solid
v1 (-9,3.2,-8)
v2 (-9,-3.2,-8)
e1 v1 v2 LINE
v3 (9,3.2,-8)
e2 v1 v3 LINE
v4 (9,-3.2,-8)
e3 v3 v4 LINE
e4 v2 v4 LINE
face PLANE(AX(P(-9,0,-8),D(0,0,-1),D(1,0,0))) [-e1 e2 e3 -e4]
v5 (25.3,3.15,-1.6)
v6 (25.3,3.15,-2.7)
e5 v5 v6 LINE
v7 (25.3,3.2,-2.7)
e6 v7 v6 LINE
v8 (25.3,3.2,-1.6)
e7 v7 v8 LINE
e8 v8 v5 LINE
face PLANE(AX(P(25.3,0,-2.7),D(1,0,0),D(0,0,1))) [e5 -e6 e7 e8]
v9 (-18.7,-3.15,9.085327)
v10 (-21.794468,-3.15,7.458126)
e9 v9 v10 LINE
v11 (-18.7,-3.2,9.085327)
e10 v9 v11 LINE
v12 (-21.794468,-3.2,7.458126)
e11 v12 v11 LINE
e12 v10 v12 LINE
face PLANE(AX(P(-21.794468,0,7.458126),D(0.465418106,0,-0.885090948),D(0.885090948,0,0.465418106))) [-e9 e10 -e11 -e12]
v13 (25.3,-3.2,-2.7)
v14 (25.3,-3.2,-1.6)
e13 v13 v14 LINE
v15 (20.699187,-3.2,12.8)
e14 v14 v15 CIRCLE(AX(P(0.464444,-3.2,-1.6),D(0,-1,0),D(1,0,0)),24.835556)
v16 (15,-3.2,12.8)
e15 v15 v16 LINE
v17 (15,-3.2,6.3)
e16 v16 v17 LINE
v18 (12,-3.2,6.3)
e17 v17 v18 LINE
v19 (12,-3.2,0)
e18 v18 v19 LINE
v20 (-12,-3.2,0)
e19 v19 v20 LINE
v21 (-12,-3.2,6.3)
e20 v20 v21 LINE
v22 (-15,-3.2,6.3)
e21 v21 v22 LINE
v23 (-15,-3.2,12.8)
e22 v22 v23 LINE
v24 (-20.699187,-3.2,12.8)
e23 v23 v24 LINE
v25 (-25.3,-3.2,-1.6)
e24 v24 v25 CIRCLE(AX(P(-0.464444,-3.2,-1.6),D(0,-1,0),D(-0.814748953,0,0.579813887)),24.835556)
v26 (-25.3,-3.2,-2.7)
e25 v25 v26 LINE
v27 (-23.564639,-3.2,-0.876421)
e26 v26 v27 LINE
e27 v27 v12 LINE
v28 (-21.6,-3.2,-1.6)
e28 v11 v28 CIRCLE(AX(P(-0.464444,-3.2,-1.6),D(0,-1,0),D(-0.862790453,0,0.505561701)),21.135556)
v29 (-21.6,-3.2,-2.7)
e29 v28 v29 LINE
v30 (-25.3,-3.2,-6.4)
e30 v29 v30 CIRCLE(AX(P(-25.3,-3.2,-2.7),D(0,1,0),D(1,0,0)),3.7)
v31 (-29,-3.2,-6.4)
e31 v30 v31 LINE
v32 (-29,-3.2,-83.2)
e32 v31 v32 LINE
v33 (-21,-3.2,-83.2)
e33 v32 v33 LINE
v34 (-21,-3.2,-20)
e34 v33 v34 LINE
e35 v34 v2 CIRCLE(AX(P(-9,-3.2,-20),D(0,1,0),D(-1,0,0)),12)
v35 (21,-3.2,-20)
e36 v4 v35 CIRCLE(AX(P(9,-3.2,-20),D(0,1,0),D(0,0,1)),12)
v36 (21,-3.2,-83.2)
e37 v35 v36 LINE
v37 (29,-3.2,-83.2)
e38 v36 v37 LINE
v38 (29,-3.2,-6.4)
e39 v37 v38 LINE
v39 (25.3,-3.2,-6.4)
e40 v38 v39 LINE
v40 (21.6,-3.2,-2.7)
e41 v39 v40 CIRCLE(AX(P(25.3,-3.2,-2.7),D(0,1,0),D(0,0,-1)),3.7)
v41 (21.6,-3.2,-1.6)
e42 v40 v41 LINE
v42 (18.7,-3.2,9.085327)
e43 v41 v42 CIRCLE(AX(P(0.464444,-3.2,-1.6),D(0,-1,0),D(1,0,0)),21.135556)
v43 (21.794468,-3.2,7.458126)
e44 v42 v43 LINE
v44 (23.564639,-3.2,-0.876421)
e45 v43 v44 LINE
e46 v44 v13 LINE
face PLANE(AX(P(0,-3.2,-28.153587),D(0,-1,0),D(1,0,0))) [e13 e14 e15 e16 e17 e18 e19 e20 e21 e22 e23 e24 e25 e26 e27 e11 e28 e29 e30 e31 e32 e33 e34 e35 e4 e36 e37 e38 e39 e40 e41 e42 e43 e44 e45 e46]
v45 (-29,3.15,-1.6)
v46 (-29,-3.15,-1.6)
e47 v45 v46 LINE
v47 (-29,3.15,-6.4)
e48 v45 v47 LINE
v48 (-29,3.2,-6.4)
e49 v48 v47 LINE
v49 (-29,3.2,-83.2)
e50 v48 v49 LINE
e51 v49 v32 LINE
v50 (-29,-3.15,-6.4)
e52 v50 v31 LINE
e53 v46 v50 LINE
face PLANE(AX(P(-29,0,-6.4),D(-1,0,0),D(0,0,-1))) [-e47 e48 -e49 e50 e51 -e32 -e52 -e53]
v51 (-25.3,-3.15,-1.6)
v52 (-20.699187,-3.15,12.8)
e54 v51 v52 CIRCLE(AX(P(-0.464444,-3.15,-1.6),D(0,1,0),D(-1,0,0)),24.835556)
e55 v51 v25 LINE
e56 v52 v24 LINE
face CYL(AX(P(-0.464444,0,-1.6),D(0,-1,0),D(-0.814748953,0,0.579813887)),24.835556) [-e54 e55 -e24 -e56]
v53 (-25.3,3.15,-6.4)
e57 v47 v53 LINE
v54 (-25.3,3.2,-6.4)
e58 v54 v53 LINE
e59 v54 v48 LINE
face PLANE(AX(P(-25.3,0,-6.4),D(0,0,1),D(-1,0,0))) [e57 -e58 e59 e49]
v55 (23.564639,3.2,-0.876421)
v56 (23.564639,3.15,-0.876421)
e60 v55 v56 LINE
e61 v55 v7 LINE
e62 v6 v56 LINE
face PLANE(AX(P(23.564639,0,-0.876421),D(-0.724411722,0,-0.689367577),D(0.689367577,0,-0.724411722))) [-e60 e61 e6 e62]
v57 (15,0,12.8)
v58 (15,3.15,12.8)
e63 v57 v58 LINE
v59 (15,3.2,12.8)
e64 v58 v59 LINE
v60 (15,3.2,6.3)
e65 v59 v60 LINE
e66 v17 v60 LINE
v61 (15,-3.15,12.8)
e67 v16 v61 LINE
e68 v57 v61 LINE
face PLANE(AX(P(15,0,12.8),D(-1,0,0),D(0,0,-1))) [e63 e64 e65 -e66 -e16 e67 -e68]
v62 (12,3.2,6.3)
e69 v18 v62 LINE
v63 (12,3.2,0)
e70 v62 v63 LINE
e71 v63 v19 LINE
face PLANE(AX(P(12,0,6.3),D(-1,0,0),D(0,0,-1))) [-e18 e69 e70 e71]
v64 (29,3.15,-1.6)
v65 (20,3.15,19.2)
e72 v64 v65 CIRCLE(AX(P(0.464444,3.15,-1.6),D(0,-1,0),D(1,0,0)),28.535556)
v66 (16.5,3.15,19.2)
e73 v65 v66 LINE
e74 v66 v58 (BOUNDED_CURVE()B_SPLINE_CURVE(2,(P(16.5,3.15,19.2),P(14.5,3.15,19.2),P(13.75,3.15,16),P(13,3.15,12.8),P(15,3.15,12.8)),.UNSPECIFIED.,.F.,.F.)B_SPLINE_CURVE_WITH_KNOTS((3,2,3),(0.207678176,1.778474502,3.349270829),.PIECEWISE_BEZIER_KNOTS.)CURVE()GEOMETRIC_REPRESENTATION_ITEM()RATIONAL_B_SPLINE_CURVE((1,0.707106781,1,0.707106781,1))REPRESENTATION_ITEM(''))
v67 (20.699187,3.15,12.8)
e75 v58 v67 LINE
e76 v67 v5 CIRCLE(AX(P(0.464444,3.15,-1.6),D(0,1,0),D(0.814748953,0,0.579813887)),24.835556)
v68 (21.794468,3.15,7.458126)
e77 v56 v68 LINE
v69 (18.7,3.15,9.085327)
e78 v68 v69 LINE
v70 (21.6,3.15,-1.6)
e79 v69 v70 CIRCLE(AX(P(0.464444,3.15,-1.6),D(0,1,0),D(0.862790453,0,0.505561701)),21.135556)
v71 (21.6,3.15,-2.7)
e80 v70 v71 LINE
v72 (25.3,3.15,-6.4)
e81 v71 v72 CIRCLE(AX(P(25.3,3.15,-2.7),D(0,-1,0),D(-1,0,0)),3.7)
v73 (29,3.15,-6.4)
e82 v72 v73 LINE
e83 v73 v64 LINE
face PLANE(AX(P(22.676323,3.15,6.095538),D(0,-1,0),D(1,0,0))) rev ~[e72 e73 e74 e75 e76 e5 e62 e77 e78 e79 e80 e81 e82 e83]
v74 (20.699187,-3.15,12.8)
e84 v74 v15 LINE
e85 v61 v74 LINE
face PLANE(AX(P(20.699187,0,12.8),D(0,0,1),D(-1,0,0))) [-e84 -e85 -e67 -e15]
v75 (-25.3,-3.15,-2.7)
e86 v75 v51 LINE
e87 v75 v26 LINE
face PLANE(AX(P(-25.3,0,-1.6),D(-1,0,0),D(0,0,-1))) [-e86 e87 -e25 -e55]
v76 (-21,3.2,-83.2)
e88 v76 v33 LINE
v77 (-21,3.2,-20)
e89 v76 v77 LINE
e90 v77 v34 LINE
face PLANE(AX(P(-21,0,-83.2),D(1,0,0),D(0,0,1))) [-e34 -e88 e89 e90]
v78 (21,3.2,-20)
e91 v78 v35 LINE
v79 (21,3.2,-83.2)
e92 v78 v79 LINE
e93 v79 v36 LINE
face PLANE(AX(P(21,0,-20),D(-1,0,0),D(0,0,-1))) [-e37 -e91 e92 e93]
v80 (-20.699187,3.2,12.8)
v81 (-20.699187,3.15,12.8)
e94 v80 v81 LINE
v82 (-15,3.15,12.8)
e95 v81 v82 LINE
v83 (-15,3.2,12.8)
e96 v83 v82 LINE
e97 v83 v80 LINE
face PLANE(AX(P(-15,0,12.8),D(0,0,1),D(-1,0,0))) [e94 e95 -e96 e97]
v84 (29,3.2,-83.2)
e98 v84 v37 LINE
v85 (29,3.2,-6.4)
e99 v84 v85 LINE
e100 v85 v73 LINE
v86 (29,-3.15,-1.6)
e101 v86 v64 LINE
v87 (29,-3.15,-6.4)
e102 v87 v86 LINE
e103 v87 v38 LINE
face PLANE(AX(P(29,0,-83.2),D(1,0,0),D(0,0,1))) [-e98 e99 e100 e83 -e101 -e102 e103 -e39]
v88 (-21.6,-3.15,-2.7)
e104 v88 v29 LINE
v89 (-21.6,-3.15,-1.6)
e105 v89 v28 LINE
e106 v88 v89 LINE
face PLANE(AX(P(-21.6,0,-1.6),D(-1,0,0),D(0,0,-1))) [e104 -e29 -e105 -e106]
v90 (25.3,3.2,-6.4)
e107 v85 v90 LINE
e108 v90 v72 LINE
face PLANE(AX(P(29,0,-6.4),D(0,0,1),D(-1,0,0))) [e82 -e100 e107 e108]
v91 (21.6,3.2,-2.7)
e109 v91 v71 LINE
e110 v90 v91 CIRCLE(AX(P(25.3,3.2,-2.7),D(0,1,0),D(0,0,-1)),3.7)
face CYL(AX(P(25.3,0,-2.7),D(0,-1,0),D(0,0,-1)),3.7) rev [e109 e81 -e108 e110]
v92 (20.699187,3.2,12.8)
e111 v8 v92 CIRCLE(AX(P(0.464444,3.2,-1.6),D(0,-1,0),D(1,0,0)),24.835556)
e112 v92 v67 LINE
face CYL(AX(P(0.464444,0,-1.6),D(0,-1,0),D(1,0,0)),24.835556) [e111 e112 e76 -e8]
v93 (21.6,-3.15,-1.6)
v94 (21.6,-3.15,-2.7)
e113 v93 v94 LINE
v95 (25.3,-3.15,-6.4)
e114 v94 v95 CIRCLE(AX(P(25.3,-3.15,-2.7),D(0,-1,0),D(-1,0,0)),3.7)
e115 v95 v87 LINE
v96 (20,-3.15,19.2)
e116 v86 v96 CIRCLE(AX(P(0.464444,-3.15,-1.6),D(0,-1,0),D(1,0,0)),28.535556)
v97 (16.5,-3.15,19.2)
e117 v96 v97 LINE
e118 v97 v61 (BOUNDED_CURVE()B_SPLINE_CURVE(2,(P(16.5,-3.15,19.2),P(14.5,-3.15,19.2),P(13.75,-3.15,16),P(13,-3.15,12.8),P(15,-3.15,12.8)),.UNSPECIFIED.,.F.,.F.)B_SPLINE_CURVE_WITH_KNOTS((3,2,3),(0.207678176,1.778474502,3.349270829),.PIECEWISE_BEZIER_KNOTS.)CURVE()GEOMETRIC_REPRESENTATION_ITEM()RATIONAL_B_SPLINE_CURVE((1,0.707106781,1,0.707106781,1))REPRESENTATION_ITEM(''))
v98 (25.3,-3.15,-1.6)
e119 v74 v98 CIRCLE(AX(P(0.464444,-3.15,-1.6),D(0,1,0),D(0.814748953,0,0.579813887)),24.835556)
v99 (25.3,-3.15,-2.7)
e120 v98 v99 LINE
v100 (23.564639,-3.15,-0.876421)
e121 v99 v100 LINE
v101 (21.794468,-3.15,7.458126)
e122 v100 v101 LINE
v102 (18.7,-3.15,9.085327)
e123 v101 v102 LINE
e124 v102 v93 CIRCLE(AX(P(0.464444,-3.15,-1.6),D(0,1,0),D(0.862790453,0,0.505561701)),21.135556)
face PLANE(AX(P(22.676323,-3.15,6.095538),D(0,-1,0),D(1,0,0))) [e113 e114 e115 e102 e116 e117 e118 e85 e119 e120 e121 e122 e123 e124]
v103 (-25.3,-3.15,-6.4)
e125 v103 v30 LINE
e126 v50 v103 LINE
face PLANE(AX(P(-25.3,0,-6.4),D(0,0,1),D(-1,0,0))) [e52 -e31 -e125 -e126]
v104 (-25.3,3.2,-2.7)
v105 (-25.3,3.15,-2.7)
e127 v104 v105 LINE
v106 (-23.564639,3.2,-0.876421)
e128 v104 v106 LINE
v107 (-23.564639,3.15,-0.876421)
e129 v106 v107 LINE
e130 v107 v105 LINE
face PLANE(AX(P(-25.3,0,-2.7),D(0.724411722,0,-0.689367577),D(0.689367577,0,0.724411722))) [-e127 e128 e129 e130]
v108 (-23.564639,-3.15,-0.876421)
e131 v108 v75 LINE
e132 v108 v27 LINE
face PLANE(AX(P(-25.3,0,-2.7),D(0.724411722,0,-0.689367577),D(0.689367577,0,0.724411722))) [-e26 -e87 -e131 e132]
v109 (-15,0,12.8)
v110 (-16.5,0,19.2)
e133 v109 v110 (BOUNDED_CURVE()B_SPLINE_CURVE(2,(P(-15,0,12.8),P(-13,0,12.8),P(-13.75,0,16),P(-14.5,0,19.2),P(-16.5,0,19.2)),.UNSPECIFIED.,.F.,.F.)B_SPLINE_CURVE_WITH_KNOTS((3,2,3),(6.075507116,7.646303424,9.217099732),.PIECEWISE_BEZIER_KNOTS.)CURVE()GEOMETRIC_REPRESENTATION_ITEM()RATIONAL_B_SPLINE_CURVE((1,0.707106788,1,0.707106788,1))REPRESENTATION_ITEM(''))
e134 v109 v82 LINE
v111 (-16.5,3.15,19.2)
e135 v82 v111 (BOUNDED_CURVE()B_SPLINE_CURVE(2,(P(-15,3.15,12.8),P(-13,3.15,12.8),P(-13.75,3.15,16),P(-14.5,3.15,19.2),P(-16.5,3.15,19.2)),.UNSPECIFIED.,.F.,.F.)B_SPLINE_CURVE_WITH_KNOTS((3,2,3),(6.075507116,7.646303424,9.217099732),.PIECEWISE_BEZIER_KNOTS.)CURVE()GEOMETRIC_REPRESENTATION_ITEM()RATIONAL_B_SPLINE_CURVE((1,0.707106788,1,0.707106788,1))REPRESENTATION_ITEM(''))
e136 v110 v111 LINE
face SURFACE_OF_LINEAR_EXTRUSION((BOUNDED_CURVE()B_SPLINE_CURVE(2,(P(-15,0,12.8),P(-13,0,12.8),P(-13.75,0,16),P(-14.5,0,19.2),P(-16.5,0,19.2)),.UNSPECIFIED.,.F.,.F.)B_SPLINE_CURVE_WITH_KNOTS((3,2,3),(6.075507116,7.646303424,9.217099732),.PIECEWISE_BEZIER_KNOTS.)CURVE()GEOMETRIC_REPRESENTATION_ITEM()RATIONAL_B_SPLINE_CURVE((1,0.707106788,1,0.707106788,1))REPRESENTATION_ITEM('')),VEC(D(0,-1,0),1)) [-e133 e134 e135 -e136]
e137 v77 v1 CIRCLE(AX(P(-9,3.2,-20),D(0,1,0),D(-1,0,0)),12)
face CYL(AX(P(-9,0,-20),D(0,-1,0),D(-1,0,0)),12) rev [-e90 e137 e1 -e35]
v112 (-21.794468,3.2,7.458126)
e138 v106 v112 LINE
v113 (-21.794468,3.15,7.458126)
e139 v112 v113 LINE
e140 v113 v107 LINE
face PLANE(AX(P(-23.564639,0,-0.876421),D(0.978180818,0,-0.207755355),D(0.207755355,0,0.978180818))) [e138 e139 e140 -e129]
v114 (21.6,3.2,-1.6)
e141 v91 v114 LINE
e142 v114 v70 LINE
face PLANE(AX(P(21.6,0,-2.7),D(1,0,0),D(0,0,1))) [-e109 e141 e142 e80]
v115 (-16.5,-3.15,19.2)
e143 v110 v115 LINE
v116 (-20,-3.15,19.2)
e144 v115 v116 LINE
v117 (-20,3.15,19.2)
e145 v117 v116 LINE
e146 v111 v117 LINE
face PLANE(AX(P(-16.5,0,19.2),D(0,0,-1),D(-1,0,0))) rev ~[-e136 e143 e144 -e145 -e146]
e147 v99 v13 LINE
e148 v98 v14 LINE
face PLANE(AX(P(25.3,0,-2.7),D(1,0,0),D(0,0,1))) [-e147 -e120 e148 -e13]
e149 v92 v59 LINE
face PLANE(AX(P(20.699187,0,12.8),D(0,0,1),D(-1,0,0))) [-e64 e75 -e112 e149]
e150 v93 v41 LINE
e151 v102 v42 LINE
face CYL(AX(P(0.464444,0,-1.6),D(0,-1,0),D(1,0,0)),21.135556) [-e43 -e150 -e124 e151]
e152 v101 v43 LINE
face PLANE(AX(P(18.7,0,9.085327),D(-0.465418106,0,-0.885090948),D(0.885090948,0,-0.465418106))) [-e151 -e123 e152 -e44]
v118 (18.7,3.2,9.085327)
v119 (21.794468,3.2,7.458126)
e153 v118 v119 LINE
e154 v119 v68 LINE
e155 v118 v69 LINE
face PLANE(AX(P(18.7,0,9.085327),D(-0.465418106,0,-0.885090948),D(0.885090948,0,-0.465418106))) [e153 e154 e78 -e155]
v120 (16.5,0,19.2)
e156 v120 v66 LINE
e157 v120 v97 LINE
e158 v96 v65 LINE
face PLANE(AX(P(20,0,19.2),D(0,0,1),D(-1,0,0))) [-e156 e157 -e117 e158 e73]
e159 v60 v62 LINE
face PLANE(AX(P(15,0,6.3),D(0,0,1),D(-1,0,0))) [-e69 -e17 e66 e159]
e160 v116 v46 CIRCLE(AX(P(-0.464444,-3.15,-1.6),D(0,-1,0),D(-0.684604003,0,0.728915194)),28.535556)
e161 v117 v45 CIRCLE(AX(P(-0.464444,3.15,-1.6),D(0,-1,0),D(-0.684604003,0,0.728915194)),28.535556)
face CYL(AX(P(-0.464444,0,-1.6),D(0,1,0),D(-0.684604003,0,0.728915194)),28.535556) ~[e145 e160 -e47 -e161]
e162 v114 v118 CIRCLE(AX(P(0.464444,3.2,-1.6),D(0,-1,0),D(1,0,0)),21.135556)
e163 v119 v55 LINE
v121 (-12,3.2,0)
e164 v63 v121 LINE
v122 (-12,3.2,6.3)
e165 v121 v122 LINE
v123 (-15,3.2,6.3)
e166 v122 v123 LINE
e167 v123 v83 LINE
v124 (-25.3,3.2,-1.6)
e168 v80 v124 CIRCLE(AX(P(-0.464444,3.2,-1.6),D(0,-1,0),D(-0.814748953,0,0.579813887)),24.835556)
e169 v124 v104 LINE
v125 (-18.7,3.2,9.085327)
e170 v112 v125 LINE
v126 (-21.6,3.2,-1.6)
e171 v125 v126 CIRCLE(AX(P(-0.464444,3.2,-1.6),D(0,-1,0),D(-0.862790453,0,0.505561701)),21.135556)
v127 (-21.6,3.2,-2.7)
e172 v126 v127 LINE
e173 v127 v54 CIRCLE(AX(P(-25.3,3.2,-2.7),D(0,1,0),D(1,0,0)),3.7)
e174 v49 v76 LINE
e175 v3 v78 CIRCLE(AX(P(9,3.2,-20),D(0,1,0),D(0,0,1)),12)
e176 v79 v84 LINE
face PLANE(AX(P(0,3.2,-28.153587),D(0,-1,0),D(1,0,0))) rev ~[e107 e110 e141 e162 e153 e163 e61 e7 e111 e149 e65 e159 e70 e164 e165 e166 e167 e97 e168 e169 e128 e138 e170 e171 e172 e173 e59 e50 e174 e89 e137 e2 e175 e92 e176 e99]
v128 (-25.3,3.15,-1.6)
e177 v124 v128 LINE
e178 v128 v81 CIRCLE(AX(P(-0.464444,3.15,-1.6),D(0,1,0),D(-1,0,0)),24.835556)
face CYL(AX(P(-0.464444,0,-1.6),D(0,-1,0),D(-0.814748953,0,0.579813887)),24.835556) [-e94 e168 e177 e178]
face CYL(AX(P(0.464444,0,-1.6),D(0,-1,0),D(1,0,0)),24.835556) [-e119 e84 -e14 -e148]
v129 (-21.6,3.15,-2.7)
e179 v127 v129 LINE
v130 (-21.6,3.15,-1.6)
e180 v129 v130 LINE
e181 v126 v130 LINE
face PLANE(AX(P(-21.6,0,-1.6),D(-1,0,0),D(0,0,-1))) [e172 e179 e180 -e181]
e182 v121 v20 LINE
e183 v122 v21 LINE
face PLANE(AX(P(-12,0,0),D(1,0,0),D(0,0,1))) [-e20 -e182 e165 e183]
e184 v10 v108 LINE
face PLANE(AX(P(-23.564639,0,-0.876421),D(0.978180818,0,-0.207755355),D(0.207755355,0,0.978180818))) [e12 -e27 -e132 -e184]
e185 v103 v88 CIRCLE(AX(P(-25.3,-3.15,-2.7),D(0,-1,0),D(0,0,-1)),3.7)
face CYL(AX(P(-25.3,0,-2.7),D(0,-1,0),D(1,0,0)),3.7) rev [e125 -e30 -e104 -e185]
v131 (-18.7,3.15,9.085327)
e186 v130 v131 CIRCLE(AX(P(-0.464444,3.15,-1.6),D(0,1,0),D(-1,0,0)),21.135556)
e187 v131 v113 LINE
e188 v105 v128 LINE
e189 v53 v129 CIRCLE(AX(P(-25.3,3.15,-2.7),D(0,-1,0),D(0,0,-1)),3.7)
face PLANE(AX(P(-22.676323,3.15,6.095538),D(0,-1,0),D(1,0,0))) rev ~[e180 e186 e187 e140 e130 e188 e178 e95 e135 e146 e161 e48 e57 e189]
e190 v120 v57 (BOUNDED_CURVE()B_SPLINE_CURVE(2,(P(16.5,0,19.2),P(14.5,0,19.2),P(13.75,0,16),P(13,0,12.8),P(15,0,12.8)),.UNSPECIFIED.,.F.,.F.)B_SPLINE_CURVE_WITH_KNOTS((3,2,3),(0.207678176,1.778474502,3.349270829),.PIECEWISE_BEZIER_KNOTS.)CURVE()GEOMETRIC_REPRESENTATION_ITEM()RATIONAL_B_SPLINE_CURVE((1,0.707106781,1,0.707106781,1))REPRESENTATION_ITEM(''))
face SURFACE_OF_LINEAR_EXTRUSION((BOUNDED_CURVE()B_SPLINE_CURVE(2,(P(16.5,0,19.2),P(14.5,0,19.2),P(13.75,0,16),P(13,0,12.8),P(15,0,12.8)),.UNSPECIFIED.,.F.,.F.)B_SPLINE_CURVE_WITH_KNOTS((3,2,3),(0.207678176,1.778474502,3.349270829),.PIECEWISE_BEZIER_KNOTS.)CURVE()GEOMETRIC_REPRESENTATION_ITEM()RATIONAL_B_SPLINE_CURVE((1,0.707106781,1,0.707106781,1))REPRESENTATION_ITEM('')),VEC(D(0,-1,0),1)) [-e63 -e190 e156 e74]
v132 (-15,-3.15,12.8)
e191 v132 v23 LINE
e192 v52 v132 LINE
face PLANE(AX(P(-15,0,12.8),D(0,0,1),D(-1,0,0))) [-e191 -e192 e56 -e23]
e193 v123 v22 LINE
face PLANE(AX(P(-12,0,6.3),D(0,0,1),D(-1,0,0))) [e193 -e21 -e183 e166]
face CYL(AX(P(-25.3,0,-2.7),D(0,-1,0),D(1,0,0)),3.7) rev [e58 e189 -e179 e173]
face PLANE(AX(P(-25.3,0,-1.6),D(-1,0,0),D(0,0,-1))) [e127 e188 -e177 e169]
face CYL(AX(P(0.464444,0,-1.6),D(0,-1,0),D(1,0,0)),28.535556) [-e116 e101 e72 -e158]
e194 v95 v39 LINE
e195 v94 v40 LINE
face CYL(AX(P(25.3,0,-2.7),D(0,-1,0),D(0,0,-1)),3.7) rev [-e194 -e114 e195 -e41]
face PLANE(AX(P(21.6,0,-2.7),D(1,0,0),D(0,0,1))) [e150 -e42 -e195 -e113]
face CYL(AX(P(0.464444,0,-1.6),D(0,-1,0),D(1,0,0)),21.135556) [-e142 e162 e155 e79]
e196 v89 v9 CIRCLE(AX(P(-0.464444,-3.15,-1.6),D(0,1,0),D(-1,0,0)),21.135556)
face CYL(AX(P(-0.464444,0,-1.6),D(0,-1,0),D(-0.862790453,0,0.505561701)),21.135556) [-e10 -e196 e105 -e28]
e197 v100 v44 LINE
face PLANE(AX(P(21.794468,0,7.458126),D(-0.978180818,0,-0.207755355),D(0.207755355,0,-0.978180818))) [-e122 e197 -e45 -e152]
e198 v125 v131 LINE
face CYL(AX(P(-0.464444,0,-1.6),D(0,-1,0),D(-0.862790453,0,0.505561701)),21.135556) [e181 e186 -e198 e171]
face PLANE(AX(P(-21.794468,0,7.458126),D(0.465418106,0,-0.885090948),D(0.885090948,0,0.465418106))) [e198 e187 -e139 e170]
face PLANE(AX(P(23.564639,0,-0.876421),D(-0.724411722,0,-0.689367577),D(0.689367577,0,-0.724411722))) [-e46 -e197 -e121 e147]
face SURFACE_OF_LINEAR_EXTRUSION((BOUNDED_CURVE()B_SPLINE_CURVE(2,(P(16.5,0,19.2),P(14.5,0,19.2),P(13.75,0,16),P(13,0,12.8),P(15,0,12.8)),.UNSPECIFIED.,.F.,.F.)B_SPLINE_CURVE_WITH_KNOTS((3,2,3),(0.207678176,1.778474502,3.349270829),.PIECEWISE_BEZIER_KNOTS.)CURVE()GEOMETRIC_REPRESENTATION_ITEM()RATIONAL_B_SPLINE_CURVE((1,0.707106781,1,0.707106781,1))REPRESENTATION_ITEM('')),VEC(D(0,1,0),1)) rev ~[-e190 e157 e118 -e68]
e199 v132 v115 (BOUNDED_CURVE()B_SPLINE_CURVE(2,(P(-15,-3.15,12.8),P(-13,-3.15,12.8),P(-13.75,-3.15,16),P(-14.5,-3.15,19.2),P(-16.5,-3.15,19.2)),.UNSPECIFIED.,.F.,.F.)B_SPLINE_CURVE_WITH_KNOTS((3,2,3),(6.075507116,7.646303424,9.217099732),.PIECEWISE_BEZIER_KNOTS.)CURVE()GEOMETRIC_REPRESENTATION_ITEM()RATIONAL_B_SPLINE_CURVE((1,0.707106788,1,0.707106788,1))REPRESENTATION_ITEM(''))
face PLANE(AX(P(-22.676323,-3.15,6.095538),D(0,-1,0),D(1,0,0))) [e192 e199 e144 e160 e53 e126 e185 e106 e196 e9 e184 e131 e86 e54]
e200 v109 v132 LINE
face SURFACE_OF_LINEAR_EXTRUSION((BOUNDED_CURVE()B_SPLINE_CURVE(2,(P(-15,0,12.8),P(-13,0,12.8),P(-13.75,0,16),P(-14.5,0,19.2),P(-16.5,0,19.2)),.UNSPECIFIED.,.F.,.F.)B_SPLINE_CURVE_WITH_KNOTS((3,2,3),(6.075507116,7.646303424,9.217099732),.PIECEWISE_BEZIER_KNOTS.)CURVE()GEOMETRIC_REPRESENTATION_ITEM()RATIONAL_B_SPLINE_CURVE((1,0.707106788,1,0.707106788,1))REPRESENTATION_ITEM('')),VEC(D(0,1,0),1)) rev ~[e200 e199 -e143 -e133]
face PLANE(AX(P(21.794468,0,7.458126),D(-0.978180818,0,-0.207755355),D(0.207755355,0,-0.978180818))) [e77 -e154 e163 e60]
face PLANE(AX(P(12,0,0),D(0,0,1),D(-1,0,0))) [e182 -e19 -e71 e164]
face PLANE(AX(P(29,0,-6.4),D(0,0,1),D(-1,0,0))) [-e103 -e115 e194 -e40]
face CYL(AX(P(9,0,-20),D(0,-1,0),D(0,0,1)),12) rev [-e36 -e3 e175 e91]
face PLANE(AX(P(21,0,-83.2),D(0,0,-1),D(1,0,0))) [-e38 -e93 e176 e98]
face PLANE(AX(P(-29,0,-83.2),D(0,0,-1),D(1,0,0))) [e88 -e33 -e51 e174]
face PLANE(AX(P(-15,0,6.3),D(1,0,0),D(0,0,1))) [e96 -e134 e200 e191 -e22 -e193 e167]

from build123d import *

# Parameters (mm, degrees)
F2_DEPTH = 3.2
F3_DEPTH = 3.15


with BuildPart() as f2:
    # F1 (on Front) → F2 (new body, symmetric)
    with BuildSketch(Plane.XZ):
        with BuildLine():
            Line((12, 6.3), (12, 0))
            Line((12, 0), (-12, 0))
            Line((-12, 0), (-12, 6.3))
            Line((-12, 6.3), (-15, 6.3))
            Line((-15, 6.3), (-15, 12.8))
            Line((-15, 12.8), (-20.6991873327, 12.8))
            ThreePointArc((-20.6991873327, 12.8), (-24.1218523847, 5.9585626477), (-25.3, -1.6))
            Line((-25.3, -1.6), (-25.3, -2.7))
            Line((-25.3, -2.7), (-23.56463857, -0.8764211088))
            Line((-23.56463857, -0.8764211088), (-21.7944681644, 7.4581257068))
            Line((-21.7944681644, 7.4581257068), (-18.7, 9.085327427))
            ThreePointArc((-18.7, 9.085327427), (-20.8621196327, 3.9359331242), (-21.6, -1.6))
            Line((-21.6, -1.6), (-21.6, -2.7))
            ThreePointArc((-21.6, -2.7), (-22.6837049096, -5.3162950904), (-25.3, -6.4))
            Line((-25.3, -6.4), (-29, -6.4))
            Line((-29, -6.4), (-29, -83.2))
            Line((-29, -83.2), (-21, -83.2))
            Line((-21, -83.2), (-21, -20))
            ThreePointArc((-21, -20), (-17.4852813742, -11.5147186258), (-9, -8))
            Line((-9, -8), (9, -8))
            ThreePointArc((9, -8), (17.4852813742, -11.5147186258), (21, -20))
            Line((21, -20), (21, -83.2))
            Line((21, -83.2), (29, -83.2))
            Line((29, -83.2), (29, -6.4))
            Line((29, -6.4), (25.3, -6.4))
            ThreePointArc((25.3, -6.4), (22.6837049096, -5.3162950904), (21.6, -2.7))
            Line((21.6, -2.7), (21.6, -1.6))
            ThreePointArc((21.6, -1.6), (20.8621196327, 3.9359331242), (18.7, 9.085327427))
            Line((18.7, 9.085327427), (21.7944681644, 7.4581257068))
            Line((21.7944681644, 7.4581257068), (23.56463857, -0.8764211088))
            Line((23.56463857, -0.8764211088), (25.3, -2.7))
            Line((25.3, -2.7), (25.3, -1.6))
            ThreePointArc((25.3, -1.6), (24.1218523847, 5.9585626477), (20.6991873327, 12.8))
            Line((20.6991873327, 12.8), (15, 12.8))
            Line((15, 12.8), (15, 6.3))
            Line((15, 6.3), (12, 6.3))
        make_face()
    extrude(amount=F2_DEPTH, both=True)

    # F1 (on Front) → F3 (join, symmetric)
    with BuildSketch(Plane.XZ):
        with BuildLine():
            Line((-20.6991873327, 12.8), (-15, 12.8))
            add(Edge.make_bspline(
                [(-14.9999999623, 12.8), (-13, 12.8), (-13.7499999859, 15.9999999397), (-14.4999999717, 19.1999998793), (-16.4999999623, 19.2)],
                knots=[6.0755071162, 6.0755071162, 6.0755071162, 7.6463034241, 7.6463034241, 9.217099732, 9.217099732, 9.217099732], degree=2, weights=[1, 0.7071067879, 1, 0.7071067879, 1]))
            Line((-16.5, 19.2), (-20, 19.2))
            ThreePointArc((-20, 19.2), (-26.653524819, 9.7318136236), (-29, -1.6))
            Line((-29, -1.6), (-29, -6.4))
            Line((-29, -6.4), (-25.3, -6.4))
            ThreePointArc((-25.3, -6.4), (-22.6837049096, -5.3162950904), (-21.6, -2.7))
            Line((-21.6, -2.7), (-21.6, -1.6))
            ThreePointArc((-21.6, -1.6), (-20.8621196327, 3.9359331242), (-18.7, 9.085327427))
            Line((-18.7, 9.085327427), (-21.7944681644, 7.4581257068))
            Line((-21.7944681644, 7.4581257068), (-23.56463857, -0.8764211088))
            Line((-23.56463857, -0.8764211088), (-25.3, -2.7))
            Line((-25.3, -2.7), (-25.3, -1.6))
            ThreePointArc((-25.3, -1.6), (-24.1218523847, 5.9585626477), (-20.6991873327, 12.8))
        make_face()
        with BuildLine():
            add(Edge.make_bspline(
                [(16.5, 19.2), (14.5000000377, 19.2), (13.7500000377, 16), (13.0000000377, 12.8), (15, 12.8)],
                knots=[0.2076781757, 0.2076781757, 0.2076781757, 1.7784745025, 1.7784745025, 3.3492708293, 3.3492708293, 3.3492708293], degree=2, weights=[1, 0.7071067812, 1, 0.7071067812, 1]))
            Line((15, 12.8), (20.6991873327, 12.8))
            ThreePointArc((20.6991873327, 12.8), (24.1218523847, 5.9585626477), (25.3, -1.6))
            Line((25.3, -1.6), (25.3, -2.7))
            Line((25.3, -2.7), (23.56463857, -0.8764211088))
            Line((23.56463857, -0.8764211088), (21.7944681644, 7.4581257068))
            Line((21.7944681644, 7.4581257068), (18.7, 9.085327427))
            ThreePointArc((18.7, 9.085327427), (20.8621196327, 3.9359331242), (21.6, -1.6))
            Line((21.6, -1.6), (21.6, -2.7))
            ThreePointArc((21.6, -2.7), (22.6837049096, -5.3162950904), (25.3, -6.4))
            Line((25.3, -6.4), (29, -6.4))
            Line((29, -6.4), (29, -1.6))
            ThreePointArc((29, -1.6), (26.653524819, 9.7318136236), (20, 19.2))
            Line((20, 19.2), (16.5, 19.2))
        make_face()
    extrude(amount=F3_DEPTH, both=True)


solid = f2.part
